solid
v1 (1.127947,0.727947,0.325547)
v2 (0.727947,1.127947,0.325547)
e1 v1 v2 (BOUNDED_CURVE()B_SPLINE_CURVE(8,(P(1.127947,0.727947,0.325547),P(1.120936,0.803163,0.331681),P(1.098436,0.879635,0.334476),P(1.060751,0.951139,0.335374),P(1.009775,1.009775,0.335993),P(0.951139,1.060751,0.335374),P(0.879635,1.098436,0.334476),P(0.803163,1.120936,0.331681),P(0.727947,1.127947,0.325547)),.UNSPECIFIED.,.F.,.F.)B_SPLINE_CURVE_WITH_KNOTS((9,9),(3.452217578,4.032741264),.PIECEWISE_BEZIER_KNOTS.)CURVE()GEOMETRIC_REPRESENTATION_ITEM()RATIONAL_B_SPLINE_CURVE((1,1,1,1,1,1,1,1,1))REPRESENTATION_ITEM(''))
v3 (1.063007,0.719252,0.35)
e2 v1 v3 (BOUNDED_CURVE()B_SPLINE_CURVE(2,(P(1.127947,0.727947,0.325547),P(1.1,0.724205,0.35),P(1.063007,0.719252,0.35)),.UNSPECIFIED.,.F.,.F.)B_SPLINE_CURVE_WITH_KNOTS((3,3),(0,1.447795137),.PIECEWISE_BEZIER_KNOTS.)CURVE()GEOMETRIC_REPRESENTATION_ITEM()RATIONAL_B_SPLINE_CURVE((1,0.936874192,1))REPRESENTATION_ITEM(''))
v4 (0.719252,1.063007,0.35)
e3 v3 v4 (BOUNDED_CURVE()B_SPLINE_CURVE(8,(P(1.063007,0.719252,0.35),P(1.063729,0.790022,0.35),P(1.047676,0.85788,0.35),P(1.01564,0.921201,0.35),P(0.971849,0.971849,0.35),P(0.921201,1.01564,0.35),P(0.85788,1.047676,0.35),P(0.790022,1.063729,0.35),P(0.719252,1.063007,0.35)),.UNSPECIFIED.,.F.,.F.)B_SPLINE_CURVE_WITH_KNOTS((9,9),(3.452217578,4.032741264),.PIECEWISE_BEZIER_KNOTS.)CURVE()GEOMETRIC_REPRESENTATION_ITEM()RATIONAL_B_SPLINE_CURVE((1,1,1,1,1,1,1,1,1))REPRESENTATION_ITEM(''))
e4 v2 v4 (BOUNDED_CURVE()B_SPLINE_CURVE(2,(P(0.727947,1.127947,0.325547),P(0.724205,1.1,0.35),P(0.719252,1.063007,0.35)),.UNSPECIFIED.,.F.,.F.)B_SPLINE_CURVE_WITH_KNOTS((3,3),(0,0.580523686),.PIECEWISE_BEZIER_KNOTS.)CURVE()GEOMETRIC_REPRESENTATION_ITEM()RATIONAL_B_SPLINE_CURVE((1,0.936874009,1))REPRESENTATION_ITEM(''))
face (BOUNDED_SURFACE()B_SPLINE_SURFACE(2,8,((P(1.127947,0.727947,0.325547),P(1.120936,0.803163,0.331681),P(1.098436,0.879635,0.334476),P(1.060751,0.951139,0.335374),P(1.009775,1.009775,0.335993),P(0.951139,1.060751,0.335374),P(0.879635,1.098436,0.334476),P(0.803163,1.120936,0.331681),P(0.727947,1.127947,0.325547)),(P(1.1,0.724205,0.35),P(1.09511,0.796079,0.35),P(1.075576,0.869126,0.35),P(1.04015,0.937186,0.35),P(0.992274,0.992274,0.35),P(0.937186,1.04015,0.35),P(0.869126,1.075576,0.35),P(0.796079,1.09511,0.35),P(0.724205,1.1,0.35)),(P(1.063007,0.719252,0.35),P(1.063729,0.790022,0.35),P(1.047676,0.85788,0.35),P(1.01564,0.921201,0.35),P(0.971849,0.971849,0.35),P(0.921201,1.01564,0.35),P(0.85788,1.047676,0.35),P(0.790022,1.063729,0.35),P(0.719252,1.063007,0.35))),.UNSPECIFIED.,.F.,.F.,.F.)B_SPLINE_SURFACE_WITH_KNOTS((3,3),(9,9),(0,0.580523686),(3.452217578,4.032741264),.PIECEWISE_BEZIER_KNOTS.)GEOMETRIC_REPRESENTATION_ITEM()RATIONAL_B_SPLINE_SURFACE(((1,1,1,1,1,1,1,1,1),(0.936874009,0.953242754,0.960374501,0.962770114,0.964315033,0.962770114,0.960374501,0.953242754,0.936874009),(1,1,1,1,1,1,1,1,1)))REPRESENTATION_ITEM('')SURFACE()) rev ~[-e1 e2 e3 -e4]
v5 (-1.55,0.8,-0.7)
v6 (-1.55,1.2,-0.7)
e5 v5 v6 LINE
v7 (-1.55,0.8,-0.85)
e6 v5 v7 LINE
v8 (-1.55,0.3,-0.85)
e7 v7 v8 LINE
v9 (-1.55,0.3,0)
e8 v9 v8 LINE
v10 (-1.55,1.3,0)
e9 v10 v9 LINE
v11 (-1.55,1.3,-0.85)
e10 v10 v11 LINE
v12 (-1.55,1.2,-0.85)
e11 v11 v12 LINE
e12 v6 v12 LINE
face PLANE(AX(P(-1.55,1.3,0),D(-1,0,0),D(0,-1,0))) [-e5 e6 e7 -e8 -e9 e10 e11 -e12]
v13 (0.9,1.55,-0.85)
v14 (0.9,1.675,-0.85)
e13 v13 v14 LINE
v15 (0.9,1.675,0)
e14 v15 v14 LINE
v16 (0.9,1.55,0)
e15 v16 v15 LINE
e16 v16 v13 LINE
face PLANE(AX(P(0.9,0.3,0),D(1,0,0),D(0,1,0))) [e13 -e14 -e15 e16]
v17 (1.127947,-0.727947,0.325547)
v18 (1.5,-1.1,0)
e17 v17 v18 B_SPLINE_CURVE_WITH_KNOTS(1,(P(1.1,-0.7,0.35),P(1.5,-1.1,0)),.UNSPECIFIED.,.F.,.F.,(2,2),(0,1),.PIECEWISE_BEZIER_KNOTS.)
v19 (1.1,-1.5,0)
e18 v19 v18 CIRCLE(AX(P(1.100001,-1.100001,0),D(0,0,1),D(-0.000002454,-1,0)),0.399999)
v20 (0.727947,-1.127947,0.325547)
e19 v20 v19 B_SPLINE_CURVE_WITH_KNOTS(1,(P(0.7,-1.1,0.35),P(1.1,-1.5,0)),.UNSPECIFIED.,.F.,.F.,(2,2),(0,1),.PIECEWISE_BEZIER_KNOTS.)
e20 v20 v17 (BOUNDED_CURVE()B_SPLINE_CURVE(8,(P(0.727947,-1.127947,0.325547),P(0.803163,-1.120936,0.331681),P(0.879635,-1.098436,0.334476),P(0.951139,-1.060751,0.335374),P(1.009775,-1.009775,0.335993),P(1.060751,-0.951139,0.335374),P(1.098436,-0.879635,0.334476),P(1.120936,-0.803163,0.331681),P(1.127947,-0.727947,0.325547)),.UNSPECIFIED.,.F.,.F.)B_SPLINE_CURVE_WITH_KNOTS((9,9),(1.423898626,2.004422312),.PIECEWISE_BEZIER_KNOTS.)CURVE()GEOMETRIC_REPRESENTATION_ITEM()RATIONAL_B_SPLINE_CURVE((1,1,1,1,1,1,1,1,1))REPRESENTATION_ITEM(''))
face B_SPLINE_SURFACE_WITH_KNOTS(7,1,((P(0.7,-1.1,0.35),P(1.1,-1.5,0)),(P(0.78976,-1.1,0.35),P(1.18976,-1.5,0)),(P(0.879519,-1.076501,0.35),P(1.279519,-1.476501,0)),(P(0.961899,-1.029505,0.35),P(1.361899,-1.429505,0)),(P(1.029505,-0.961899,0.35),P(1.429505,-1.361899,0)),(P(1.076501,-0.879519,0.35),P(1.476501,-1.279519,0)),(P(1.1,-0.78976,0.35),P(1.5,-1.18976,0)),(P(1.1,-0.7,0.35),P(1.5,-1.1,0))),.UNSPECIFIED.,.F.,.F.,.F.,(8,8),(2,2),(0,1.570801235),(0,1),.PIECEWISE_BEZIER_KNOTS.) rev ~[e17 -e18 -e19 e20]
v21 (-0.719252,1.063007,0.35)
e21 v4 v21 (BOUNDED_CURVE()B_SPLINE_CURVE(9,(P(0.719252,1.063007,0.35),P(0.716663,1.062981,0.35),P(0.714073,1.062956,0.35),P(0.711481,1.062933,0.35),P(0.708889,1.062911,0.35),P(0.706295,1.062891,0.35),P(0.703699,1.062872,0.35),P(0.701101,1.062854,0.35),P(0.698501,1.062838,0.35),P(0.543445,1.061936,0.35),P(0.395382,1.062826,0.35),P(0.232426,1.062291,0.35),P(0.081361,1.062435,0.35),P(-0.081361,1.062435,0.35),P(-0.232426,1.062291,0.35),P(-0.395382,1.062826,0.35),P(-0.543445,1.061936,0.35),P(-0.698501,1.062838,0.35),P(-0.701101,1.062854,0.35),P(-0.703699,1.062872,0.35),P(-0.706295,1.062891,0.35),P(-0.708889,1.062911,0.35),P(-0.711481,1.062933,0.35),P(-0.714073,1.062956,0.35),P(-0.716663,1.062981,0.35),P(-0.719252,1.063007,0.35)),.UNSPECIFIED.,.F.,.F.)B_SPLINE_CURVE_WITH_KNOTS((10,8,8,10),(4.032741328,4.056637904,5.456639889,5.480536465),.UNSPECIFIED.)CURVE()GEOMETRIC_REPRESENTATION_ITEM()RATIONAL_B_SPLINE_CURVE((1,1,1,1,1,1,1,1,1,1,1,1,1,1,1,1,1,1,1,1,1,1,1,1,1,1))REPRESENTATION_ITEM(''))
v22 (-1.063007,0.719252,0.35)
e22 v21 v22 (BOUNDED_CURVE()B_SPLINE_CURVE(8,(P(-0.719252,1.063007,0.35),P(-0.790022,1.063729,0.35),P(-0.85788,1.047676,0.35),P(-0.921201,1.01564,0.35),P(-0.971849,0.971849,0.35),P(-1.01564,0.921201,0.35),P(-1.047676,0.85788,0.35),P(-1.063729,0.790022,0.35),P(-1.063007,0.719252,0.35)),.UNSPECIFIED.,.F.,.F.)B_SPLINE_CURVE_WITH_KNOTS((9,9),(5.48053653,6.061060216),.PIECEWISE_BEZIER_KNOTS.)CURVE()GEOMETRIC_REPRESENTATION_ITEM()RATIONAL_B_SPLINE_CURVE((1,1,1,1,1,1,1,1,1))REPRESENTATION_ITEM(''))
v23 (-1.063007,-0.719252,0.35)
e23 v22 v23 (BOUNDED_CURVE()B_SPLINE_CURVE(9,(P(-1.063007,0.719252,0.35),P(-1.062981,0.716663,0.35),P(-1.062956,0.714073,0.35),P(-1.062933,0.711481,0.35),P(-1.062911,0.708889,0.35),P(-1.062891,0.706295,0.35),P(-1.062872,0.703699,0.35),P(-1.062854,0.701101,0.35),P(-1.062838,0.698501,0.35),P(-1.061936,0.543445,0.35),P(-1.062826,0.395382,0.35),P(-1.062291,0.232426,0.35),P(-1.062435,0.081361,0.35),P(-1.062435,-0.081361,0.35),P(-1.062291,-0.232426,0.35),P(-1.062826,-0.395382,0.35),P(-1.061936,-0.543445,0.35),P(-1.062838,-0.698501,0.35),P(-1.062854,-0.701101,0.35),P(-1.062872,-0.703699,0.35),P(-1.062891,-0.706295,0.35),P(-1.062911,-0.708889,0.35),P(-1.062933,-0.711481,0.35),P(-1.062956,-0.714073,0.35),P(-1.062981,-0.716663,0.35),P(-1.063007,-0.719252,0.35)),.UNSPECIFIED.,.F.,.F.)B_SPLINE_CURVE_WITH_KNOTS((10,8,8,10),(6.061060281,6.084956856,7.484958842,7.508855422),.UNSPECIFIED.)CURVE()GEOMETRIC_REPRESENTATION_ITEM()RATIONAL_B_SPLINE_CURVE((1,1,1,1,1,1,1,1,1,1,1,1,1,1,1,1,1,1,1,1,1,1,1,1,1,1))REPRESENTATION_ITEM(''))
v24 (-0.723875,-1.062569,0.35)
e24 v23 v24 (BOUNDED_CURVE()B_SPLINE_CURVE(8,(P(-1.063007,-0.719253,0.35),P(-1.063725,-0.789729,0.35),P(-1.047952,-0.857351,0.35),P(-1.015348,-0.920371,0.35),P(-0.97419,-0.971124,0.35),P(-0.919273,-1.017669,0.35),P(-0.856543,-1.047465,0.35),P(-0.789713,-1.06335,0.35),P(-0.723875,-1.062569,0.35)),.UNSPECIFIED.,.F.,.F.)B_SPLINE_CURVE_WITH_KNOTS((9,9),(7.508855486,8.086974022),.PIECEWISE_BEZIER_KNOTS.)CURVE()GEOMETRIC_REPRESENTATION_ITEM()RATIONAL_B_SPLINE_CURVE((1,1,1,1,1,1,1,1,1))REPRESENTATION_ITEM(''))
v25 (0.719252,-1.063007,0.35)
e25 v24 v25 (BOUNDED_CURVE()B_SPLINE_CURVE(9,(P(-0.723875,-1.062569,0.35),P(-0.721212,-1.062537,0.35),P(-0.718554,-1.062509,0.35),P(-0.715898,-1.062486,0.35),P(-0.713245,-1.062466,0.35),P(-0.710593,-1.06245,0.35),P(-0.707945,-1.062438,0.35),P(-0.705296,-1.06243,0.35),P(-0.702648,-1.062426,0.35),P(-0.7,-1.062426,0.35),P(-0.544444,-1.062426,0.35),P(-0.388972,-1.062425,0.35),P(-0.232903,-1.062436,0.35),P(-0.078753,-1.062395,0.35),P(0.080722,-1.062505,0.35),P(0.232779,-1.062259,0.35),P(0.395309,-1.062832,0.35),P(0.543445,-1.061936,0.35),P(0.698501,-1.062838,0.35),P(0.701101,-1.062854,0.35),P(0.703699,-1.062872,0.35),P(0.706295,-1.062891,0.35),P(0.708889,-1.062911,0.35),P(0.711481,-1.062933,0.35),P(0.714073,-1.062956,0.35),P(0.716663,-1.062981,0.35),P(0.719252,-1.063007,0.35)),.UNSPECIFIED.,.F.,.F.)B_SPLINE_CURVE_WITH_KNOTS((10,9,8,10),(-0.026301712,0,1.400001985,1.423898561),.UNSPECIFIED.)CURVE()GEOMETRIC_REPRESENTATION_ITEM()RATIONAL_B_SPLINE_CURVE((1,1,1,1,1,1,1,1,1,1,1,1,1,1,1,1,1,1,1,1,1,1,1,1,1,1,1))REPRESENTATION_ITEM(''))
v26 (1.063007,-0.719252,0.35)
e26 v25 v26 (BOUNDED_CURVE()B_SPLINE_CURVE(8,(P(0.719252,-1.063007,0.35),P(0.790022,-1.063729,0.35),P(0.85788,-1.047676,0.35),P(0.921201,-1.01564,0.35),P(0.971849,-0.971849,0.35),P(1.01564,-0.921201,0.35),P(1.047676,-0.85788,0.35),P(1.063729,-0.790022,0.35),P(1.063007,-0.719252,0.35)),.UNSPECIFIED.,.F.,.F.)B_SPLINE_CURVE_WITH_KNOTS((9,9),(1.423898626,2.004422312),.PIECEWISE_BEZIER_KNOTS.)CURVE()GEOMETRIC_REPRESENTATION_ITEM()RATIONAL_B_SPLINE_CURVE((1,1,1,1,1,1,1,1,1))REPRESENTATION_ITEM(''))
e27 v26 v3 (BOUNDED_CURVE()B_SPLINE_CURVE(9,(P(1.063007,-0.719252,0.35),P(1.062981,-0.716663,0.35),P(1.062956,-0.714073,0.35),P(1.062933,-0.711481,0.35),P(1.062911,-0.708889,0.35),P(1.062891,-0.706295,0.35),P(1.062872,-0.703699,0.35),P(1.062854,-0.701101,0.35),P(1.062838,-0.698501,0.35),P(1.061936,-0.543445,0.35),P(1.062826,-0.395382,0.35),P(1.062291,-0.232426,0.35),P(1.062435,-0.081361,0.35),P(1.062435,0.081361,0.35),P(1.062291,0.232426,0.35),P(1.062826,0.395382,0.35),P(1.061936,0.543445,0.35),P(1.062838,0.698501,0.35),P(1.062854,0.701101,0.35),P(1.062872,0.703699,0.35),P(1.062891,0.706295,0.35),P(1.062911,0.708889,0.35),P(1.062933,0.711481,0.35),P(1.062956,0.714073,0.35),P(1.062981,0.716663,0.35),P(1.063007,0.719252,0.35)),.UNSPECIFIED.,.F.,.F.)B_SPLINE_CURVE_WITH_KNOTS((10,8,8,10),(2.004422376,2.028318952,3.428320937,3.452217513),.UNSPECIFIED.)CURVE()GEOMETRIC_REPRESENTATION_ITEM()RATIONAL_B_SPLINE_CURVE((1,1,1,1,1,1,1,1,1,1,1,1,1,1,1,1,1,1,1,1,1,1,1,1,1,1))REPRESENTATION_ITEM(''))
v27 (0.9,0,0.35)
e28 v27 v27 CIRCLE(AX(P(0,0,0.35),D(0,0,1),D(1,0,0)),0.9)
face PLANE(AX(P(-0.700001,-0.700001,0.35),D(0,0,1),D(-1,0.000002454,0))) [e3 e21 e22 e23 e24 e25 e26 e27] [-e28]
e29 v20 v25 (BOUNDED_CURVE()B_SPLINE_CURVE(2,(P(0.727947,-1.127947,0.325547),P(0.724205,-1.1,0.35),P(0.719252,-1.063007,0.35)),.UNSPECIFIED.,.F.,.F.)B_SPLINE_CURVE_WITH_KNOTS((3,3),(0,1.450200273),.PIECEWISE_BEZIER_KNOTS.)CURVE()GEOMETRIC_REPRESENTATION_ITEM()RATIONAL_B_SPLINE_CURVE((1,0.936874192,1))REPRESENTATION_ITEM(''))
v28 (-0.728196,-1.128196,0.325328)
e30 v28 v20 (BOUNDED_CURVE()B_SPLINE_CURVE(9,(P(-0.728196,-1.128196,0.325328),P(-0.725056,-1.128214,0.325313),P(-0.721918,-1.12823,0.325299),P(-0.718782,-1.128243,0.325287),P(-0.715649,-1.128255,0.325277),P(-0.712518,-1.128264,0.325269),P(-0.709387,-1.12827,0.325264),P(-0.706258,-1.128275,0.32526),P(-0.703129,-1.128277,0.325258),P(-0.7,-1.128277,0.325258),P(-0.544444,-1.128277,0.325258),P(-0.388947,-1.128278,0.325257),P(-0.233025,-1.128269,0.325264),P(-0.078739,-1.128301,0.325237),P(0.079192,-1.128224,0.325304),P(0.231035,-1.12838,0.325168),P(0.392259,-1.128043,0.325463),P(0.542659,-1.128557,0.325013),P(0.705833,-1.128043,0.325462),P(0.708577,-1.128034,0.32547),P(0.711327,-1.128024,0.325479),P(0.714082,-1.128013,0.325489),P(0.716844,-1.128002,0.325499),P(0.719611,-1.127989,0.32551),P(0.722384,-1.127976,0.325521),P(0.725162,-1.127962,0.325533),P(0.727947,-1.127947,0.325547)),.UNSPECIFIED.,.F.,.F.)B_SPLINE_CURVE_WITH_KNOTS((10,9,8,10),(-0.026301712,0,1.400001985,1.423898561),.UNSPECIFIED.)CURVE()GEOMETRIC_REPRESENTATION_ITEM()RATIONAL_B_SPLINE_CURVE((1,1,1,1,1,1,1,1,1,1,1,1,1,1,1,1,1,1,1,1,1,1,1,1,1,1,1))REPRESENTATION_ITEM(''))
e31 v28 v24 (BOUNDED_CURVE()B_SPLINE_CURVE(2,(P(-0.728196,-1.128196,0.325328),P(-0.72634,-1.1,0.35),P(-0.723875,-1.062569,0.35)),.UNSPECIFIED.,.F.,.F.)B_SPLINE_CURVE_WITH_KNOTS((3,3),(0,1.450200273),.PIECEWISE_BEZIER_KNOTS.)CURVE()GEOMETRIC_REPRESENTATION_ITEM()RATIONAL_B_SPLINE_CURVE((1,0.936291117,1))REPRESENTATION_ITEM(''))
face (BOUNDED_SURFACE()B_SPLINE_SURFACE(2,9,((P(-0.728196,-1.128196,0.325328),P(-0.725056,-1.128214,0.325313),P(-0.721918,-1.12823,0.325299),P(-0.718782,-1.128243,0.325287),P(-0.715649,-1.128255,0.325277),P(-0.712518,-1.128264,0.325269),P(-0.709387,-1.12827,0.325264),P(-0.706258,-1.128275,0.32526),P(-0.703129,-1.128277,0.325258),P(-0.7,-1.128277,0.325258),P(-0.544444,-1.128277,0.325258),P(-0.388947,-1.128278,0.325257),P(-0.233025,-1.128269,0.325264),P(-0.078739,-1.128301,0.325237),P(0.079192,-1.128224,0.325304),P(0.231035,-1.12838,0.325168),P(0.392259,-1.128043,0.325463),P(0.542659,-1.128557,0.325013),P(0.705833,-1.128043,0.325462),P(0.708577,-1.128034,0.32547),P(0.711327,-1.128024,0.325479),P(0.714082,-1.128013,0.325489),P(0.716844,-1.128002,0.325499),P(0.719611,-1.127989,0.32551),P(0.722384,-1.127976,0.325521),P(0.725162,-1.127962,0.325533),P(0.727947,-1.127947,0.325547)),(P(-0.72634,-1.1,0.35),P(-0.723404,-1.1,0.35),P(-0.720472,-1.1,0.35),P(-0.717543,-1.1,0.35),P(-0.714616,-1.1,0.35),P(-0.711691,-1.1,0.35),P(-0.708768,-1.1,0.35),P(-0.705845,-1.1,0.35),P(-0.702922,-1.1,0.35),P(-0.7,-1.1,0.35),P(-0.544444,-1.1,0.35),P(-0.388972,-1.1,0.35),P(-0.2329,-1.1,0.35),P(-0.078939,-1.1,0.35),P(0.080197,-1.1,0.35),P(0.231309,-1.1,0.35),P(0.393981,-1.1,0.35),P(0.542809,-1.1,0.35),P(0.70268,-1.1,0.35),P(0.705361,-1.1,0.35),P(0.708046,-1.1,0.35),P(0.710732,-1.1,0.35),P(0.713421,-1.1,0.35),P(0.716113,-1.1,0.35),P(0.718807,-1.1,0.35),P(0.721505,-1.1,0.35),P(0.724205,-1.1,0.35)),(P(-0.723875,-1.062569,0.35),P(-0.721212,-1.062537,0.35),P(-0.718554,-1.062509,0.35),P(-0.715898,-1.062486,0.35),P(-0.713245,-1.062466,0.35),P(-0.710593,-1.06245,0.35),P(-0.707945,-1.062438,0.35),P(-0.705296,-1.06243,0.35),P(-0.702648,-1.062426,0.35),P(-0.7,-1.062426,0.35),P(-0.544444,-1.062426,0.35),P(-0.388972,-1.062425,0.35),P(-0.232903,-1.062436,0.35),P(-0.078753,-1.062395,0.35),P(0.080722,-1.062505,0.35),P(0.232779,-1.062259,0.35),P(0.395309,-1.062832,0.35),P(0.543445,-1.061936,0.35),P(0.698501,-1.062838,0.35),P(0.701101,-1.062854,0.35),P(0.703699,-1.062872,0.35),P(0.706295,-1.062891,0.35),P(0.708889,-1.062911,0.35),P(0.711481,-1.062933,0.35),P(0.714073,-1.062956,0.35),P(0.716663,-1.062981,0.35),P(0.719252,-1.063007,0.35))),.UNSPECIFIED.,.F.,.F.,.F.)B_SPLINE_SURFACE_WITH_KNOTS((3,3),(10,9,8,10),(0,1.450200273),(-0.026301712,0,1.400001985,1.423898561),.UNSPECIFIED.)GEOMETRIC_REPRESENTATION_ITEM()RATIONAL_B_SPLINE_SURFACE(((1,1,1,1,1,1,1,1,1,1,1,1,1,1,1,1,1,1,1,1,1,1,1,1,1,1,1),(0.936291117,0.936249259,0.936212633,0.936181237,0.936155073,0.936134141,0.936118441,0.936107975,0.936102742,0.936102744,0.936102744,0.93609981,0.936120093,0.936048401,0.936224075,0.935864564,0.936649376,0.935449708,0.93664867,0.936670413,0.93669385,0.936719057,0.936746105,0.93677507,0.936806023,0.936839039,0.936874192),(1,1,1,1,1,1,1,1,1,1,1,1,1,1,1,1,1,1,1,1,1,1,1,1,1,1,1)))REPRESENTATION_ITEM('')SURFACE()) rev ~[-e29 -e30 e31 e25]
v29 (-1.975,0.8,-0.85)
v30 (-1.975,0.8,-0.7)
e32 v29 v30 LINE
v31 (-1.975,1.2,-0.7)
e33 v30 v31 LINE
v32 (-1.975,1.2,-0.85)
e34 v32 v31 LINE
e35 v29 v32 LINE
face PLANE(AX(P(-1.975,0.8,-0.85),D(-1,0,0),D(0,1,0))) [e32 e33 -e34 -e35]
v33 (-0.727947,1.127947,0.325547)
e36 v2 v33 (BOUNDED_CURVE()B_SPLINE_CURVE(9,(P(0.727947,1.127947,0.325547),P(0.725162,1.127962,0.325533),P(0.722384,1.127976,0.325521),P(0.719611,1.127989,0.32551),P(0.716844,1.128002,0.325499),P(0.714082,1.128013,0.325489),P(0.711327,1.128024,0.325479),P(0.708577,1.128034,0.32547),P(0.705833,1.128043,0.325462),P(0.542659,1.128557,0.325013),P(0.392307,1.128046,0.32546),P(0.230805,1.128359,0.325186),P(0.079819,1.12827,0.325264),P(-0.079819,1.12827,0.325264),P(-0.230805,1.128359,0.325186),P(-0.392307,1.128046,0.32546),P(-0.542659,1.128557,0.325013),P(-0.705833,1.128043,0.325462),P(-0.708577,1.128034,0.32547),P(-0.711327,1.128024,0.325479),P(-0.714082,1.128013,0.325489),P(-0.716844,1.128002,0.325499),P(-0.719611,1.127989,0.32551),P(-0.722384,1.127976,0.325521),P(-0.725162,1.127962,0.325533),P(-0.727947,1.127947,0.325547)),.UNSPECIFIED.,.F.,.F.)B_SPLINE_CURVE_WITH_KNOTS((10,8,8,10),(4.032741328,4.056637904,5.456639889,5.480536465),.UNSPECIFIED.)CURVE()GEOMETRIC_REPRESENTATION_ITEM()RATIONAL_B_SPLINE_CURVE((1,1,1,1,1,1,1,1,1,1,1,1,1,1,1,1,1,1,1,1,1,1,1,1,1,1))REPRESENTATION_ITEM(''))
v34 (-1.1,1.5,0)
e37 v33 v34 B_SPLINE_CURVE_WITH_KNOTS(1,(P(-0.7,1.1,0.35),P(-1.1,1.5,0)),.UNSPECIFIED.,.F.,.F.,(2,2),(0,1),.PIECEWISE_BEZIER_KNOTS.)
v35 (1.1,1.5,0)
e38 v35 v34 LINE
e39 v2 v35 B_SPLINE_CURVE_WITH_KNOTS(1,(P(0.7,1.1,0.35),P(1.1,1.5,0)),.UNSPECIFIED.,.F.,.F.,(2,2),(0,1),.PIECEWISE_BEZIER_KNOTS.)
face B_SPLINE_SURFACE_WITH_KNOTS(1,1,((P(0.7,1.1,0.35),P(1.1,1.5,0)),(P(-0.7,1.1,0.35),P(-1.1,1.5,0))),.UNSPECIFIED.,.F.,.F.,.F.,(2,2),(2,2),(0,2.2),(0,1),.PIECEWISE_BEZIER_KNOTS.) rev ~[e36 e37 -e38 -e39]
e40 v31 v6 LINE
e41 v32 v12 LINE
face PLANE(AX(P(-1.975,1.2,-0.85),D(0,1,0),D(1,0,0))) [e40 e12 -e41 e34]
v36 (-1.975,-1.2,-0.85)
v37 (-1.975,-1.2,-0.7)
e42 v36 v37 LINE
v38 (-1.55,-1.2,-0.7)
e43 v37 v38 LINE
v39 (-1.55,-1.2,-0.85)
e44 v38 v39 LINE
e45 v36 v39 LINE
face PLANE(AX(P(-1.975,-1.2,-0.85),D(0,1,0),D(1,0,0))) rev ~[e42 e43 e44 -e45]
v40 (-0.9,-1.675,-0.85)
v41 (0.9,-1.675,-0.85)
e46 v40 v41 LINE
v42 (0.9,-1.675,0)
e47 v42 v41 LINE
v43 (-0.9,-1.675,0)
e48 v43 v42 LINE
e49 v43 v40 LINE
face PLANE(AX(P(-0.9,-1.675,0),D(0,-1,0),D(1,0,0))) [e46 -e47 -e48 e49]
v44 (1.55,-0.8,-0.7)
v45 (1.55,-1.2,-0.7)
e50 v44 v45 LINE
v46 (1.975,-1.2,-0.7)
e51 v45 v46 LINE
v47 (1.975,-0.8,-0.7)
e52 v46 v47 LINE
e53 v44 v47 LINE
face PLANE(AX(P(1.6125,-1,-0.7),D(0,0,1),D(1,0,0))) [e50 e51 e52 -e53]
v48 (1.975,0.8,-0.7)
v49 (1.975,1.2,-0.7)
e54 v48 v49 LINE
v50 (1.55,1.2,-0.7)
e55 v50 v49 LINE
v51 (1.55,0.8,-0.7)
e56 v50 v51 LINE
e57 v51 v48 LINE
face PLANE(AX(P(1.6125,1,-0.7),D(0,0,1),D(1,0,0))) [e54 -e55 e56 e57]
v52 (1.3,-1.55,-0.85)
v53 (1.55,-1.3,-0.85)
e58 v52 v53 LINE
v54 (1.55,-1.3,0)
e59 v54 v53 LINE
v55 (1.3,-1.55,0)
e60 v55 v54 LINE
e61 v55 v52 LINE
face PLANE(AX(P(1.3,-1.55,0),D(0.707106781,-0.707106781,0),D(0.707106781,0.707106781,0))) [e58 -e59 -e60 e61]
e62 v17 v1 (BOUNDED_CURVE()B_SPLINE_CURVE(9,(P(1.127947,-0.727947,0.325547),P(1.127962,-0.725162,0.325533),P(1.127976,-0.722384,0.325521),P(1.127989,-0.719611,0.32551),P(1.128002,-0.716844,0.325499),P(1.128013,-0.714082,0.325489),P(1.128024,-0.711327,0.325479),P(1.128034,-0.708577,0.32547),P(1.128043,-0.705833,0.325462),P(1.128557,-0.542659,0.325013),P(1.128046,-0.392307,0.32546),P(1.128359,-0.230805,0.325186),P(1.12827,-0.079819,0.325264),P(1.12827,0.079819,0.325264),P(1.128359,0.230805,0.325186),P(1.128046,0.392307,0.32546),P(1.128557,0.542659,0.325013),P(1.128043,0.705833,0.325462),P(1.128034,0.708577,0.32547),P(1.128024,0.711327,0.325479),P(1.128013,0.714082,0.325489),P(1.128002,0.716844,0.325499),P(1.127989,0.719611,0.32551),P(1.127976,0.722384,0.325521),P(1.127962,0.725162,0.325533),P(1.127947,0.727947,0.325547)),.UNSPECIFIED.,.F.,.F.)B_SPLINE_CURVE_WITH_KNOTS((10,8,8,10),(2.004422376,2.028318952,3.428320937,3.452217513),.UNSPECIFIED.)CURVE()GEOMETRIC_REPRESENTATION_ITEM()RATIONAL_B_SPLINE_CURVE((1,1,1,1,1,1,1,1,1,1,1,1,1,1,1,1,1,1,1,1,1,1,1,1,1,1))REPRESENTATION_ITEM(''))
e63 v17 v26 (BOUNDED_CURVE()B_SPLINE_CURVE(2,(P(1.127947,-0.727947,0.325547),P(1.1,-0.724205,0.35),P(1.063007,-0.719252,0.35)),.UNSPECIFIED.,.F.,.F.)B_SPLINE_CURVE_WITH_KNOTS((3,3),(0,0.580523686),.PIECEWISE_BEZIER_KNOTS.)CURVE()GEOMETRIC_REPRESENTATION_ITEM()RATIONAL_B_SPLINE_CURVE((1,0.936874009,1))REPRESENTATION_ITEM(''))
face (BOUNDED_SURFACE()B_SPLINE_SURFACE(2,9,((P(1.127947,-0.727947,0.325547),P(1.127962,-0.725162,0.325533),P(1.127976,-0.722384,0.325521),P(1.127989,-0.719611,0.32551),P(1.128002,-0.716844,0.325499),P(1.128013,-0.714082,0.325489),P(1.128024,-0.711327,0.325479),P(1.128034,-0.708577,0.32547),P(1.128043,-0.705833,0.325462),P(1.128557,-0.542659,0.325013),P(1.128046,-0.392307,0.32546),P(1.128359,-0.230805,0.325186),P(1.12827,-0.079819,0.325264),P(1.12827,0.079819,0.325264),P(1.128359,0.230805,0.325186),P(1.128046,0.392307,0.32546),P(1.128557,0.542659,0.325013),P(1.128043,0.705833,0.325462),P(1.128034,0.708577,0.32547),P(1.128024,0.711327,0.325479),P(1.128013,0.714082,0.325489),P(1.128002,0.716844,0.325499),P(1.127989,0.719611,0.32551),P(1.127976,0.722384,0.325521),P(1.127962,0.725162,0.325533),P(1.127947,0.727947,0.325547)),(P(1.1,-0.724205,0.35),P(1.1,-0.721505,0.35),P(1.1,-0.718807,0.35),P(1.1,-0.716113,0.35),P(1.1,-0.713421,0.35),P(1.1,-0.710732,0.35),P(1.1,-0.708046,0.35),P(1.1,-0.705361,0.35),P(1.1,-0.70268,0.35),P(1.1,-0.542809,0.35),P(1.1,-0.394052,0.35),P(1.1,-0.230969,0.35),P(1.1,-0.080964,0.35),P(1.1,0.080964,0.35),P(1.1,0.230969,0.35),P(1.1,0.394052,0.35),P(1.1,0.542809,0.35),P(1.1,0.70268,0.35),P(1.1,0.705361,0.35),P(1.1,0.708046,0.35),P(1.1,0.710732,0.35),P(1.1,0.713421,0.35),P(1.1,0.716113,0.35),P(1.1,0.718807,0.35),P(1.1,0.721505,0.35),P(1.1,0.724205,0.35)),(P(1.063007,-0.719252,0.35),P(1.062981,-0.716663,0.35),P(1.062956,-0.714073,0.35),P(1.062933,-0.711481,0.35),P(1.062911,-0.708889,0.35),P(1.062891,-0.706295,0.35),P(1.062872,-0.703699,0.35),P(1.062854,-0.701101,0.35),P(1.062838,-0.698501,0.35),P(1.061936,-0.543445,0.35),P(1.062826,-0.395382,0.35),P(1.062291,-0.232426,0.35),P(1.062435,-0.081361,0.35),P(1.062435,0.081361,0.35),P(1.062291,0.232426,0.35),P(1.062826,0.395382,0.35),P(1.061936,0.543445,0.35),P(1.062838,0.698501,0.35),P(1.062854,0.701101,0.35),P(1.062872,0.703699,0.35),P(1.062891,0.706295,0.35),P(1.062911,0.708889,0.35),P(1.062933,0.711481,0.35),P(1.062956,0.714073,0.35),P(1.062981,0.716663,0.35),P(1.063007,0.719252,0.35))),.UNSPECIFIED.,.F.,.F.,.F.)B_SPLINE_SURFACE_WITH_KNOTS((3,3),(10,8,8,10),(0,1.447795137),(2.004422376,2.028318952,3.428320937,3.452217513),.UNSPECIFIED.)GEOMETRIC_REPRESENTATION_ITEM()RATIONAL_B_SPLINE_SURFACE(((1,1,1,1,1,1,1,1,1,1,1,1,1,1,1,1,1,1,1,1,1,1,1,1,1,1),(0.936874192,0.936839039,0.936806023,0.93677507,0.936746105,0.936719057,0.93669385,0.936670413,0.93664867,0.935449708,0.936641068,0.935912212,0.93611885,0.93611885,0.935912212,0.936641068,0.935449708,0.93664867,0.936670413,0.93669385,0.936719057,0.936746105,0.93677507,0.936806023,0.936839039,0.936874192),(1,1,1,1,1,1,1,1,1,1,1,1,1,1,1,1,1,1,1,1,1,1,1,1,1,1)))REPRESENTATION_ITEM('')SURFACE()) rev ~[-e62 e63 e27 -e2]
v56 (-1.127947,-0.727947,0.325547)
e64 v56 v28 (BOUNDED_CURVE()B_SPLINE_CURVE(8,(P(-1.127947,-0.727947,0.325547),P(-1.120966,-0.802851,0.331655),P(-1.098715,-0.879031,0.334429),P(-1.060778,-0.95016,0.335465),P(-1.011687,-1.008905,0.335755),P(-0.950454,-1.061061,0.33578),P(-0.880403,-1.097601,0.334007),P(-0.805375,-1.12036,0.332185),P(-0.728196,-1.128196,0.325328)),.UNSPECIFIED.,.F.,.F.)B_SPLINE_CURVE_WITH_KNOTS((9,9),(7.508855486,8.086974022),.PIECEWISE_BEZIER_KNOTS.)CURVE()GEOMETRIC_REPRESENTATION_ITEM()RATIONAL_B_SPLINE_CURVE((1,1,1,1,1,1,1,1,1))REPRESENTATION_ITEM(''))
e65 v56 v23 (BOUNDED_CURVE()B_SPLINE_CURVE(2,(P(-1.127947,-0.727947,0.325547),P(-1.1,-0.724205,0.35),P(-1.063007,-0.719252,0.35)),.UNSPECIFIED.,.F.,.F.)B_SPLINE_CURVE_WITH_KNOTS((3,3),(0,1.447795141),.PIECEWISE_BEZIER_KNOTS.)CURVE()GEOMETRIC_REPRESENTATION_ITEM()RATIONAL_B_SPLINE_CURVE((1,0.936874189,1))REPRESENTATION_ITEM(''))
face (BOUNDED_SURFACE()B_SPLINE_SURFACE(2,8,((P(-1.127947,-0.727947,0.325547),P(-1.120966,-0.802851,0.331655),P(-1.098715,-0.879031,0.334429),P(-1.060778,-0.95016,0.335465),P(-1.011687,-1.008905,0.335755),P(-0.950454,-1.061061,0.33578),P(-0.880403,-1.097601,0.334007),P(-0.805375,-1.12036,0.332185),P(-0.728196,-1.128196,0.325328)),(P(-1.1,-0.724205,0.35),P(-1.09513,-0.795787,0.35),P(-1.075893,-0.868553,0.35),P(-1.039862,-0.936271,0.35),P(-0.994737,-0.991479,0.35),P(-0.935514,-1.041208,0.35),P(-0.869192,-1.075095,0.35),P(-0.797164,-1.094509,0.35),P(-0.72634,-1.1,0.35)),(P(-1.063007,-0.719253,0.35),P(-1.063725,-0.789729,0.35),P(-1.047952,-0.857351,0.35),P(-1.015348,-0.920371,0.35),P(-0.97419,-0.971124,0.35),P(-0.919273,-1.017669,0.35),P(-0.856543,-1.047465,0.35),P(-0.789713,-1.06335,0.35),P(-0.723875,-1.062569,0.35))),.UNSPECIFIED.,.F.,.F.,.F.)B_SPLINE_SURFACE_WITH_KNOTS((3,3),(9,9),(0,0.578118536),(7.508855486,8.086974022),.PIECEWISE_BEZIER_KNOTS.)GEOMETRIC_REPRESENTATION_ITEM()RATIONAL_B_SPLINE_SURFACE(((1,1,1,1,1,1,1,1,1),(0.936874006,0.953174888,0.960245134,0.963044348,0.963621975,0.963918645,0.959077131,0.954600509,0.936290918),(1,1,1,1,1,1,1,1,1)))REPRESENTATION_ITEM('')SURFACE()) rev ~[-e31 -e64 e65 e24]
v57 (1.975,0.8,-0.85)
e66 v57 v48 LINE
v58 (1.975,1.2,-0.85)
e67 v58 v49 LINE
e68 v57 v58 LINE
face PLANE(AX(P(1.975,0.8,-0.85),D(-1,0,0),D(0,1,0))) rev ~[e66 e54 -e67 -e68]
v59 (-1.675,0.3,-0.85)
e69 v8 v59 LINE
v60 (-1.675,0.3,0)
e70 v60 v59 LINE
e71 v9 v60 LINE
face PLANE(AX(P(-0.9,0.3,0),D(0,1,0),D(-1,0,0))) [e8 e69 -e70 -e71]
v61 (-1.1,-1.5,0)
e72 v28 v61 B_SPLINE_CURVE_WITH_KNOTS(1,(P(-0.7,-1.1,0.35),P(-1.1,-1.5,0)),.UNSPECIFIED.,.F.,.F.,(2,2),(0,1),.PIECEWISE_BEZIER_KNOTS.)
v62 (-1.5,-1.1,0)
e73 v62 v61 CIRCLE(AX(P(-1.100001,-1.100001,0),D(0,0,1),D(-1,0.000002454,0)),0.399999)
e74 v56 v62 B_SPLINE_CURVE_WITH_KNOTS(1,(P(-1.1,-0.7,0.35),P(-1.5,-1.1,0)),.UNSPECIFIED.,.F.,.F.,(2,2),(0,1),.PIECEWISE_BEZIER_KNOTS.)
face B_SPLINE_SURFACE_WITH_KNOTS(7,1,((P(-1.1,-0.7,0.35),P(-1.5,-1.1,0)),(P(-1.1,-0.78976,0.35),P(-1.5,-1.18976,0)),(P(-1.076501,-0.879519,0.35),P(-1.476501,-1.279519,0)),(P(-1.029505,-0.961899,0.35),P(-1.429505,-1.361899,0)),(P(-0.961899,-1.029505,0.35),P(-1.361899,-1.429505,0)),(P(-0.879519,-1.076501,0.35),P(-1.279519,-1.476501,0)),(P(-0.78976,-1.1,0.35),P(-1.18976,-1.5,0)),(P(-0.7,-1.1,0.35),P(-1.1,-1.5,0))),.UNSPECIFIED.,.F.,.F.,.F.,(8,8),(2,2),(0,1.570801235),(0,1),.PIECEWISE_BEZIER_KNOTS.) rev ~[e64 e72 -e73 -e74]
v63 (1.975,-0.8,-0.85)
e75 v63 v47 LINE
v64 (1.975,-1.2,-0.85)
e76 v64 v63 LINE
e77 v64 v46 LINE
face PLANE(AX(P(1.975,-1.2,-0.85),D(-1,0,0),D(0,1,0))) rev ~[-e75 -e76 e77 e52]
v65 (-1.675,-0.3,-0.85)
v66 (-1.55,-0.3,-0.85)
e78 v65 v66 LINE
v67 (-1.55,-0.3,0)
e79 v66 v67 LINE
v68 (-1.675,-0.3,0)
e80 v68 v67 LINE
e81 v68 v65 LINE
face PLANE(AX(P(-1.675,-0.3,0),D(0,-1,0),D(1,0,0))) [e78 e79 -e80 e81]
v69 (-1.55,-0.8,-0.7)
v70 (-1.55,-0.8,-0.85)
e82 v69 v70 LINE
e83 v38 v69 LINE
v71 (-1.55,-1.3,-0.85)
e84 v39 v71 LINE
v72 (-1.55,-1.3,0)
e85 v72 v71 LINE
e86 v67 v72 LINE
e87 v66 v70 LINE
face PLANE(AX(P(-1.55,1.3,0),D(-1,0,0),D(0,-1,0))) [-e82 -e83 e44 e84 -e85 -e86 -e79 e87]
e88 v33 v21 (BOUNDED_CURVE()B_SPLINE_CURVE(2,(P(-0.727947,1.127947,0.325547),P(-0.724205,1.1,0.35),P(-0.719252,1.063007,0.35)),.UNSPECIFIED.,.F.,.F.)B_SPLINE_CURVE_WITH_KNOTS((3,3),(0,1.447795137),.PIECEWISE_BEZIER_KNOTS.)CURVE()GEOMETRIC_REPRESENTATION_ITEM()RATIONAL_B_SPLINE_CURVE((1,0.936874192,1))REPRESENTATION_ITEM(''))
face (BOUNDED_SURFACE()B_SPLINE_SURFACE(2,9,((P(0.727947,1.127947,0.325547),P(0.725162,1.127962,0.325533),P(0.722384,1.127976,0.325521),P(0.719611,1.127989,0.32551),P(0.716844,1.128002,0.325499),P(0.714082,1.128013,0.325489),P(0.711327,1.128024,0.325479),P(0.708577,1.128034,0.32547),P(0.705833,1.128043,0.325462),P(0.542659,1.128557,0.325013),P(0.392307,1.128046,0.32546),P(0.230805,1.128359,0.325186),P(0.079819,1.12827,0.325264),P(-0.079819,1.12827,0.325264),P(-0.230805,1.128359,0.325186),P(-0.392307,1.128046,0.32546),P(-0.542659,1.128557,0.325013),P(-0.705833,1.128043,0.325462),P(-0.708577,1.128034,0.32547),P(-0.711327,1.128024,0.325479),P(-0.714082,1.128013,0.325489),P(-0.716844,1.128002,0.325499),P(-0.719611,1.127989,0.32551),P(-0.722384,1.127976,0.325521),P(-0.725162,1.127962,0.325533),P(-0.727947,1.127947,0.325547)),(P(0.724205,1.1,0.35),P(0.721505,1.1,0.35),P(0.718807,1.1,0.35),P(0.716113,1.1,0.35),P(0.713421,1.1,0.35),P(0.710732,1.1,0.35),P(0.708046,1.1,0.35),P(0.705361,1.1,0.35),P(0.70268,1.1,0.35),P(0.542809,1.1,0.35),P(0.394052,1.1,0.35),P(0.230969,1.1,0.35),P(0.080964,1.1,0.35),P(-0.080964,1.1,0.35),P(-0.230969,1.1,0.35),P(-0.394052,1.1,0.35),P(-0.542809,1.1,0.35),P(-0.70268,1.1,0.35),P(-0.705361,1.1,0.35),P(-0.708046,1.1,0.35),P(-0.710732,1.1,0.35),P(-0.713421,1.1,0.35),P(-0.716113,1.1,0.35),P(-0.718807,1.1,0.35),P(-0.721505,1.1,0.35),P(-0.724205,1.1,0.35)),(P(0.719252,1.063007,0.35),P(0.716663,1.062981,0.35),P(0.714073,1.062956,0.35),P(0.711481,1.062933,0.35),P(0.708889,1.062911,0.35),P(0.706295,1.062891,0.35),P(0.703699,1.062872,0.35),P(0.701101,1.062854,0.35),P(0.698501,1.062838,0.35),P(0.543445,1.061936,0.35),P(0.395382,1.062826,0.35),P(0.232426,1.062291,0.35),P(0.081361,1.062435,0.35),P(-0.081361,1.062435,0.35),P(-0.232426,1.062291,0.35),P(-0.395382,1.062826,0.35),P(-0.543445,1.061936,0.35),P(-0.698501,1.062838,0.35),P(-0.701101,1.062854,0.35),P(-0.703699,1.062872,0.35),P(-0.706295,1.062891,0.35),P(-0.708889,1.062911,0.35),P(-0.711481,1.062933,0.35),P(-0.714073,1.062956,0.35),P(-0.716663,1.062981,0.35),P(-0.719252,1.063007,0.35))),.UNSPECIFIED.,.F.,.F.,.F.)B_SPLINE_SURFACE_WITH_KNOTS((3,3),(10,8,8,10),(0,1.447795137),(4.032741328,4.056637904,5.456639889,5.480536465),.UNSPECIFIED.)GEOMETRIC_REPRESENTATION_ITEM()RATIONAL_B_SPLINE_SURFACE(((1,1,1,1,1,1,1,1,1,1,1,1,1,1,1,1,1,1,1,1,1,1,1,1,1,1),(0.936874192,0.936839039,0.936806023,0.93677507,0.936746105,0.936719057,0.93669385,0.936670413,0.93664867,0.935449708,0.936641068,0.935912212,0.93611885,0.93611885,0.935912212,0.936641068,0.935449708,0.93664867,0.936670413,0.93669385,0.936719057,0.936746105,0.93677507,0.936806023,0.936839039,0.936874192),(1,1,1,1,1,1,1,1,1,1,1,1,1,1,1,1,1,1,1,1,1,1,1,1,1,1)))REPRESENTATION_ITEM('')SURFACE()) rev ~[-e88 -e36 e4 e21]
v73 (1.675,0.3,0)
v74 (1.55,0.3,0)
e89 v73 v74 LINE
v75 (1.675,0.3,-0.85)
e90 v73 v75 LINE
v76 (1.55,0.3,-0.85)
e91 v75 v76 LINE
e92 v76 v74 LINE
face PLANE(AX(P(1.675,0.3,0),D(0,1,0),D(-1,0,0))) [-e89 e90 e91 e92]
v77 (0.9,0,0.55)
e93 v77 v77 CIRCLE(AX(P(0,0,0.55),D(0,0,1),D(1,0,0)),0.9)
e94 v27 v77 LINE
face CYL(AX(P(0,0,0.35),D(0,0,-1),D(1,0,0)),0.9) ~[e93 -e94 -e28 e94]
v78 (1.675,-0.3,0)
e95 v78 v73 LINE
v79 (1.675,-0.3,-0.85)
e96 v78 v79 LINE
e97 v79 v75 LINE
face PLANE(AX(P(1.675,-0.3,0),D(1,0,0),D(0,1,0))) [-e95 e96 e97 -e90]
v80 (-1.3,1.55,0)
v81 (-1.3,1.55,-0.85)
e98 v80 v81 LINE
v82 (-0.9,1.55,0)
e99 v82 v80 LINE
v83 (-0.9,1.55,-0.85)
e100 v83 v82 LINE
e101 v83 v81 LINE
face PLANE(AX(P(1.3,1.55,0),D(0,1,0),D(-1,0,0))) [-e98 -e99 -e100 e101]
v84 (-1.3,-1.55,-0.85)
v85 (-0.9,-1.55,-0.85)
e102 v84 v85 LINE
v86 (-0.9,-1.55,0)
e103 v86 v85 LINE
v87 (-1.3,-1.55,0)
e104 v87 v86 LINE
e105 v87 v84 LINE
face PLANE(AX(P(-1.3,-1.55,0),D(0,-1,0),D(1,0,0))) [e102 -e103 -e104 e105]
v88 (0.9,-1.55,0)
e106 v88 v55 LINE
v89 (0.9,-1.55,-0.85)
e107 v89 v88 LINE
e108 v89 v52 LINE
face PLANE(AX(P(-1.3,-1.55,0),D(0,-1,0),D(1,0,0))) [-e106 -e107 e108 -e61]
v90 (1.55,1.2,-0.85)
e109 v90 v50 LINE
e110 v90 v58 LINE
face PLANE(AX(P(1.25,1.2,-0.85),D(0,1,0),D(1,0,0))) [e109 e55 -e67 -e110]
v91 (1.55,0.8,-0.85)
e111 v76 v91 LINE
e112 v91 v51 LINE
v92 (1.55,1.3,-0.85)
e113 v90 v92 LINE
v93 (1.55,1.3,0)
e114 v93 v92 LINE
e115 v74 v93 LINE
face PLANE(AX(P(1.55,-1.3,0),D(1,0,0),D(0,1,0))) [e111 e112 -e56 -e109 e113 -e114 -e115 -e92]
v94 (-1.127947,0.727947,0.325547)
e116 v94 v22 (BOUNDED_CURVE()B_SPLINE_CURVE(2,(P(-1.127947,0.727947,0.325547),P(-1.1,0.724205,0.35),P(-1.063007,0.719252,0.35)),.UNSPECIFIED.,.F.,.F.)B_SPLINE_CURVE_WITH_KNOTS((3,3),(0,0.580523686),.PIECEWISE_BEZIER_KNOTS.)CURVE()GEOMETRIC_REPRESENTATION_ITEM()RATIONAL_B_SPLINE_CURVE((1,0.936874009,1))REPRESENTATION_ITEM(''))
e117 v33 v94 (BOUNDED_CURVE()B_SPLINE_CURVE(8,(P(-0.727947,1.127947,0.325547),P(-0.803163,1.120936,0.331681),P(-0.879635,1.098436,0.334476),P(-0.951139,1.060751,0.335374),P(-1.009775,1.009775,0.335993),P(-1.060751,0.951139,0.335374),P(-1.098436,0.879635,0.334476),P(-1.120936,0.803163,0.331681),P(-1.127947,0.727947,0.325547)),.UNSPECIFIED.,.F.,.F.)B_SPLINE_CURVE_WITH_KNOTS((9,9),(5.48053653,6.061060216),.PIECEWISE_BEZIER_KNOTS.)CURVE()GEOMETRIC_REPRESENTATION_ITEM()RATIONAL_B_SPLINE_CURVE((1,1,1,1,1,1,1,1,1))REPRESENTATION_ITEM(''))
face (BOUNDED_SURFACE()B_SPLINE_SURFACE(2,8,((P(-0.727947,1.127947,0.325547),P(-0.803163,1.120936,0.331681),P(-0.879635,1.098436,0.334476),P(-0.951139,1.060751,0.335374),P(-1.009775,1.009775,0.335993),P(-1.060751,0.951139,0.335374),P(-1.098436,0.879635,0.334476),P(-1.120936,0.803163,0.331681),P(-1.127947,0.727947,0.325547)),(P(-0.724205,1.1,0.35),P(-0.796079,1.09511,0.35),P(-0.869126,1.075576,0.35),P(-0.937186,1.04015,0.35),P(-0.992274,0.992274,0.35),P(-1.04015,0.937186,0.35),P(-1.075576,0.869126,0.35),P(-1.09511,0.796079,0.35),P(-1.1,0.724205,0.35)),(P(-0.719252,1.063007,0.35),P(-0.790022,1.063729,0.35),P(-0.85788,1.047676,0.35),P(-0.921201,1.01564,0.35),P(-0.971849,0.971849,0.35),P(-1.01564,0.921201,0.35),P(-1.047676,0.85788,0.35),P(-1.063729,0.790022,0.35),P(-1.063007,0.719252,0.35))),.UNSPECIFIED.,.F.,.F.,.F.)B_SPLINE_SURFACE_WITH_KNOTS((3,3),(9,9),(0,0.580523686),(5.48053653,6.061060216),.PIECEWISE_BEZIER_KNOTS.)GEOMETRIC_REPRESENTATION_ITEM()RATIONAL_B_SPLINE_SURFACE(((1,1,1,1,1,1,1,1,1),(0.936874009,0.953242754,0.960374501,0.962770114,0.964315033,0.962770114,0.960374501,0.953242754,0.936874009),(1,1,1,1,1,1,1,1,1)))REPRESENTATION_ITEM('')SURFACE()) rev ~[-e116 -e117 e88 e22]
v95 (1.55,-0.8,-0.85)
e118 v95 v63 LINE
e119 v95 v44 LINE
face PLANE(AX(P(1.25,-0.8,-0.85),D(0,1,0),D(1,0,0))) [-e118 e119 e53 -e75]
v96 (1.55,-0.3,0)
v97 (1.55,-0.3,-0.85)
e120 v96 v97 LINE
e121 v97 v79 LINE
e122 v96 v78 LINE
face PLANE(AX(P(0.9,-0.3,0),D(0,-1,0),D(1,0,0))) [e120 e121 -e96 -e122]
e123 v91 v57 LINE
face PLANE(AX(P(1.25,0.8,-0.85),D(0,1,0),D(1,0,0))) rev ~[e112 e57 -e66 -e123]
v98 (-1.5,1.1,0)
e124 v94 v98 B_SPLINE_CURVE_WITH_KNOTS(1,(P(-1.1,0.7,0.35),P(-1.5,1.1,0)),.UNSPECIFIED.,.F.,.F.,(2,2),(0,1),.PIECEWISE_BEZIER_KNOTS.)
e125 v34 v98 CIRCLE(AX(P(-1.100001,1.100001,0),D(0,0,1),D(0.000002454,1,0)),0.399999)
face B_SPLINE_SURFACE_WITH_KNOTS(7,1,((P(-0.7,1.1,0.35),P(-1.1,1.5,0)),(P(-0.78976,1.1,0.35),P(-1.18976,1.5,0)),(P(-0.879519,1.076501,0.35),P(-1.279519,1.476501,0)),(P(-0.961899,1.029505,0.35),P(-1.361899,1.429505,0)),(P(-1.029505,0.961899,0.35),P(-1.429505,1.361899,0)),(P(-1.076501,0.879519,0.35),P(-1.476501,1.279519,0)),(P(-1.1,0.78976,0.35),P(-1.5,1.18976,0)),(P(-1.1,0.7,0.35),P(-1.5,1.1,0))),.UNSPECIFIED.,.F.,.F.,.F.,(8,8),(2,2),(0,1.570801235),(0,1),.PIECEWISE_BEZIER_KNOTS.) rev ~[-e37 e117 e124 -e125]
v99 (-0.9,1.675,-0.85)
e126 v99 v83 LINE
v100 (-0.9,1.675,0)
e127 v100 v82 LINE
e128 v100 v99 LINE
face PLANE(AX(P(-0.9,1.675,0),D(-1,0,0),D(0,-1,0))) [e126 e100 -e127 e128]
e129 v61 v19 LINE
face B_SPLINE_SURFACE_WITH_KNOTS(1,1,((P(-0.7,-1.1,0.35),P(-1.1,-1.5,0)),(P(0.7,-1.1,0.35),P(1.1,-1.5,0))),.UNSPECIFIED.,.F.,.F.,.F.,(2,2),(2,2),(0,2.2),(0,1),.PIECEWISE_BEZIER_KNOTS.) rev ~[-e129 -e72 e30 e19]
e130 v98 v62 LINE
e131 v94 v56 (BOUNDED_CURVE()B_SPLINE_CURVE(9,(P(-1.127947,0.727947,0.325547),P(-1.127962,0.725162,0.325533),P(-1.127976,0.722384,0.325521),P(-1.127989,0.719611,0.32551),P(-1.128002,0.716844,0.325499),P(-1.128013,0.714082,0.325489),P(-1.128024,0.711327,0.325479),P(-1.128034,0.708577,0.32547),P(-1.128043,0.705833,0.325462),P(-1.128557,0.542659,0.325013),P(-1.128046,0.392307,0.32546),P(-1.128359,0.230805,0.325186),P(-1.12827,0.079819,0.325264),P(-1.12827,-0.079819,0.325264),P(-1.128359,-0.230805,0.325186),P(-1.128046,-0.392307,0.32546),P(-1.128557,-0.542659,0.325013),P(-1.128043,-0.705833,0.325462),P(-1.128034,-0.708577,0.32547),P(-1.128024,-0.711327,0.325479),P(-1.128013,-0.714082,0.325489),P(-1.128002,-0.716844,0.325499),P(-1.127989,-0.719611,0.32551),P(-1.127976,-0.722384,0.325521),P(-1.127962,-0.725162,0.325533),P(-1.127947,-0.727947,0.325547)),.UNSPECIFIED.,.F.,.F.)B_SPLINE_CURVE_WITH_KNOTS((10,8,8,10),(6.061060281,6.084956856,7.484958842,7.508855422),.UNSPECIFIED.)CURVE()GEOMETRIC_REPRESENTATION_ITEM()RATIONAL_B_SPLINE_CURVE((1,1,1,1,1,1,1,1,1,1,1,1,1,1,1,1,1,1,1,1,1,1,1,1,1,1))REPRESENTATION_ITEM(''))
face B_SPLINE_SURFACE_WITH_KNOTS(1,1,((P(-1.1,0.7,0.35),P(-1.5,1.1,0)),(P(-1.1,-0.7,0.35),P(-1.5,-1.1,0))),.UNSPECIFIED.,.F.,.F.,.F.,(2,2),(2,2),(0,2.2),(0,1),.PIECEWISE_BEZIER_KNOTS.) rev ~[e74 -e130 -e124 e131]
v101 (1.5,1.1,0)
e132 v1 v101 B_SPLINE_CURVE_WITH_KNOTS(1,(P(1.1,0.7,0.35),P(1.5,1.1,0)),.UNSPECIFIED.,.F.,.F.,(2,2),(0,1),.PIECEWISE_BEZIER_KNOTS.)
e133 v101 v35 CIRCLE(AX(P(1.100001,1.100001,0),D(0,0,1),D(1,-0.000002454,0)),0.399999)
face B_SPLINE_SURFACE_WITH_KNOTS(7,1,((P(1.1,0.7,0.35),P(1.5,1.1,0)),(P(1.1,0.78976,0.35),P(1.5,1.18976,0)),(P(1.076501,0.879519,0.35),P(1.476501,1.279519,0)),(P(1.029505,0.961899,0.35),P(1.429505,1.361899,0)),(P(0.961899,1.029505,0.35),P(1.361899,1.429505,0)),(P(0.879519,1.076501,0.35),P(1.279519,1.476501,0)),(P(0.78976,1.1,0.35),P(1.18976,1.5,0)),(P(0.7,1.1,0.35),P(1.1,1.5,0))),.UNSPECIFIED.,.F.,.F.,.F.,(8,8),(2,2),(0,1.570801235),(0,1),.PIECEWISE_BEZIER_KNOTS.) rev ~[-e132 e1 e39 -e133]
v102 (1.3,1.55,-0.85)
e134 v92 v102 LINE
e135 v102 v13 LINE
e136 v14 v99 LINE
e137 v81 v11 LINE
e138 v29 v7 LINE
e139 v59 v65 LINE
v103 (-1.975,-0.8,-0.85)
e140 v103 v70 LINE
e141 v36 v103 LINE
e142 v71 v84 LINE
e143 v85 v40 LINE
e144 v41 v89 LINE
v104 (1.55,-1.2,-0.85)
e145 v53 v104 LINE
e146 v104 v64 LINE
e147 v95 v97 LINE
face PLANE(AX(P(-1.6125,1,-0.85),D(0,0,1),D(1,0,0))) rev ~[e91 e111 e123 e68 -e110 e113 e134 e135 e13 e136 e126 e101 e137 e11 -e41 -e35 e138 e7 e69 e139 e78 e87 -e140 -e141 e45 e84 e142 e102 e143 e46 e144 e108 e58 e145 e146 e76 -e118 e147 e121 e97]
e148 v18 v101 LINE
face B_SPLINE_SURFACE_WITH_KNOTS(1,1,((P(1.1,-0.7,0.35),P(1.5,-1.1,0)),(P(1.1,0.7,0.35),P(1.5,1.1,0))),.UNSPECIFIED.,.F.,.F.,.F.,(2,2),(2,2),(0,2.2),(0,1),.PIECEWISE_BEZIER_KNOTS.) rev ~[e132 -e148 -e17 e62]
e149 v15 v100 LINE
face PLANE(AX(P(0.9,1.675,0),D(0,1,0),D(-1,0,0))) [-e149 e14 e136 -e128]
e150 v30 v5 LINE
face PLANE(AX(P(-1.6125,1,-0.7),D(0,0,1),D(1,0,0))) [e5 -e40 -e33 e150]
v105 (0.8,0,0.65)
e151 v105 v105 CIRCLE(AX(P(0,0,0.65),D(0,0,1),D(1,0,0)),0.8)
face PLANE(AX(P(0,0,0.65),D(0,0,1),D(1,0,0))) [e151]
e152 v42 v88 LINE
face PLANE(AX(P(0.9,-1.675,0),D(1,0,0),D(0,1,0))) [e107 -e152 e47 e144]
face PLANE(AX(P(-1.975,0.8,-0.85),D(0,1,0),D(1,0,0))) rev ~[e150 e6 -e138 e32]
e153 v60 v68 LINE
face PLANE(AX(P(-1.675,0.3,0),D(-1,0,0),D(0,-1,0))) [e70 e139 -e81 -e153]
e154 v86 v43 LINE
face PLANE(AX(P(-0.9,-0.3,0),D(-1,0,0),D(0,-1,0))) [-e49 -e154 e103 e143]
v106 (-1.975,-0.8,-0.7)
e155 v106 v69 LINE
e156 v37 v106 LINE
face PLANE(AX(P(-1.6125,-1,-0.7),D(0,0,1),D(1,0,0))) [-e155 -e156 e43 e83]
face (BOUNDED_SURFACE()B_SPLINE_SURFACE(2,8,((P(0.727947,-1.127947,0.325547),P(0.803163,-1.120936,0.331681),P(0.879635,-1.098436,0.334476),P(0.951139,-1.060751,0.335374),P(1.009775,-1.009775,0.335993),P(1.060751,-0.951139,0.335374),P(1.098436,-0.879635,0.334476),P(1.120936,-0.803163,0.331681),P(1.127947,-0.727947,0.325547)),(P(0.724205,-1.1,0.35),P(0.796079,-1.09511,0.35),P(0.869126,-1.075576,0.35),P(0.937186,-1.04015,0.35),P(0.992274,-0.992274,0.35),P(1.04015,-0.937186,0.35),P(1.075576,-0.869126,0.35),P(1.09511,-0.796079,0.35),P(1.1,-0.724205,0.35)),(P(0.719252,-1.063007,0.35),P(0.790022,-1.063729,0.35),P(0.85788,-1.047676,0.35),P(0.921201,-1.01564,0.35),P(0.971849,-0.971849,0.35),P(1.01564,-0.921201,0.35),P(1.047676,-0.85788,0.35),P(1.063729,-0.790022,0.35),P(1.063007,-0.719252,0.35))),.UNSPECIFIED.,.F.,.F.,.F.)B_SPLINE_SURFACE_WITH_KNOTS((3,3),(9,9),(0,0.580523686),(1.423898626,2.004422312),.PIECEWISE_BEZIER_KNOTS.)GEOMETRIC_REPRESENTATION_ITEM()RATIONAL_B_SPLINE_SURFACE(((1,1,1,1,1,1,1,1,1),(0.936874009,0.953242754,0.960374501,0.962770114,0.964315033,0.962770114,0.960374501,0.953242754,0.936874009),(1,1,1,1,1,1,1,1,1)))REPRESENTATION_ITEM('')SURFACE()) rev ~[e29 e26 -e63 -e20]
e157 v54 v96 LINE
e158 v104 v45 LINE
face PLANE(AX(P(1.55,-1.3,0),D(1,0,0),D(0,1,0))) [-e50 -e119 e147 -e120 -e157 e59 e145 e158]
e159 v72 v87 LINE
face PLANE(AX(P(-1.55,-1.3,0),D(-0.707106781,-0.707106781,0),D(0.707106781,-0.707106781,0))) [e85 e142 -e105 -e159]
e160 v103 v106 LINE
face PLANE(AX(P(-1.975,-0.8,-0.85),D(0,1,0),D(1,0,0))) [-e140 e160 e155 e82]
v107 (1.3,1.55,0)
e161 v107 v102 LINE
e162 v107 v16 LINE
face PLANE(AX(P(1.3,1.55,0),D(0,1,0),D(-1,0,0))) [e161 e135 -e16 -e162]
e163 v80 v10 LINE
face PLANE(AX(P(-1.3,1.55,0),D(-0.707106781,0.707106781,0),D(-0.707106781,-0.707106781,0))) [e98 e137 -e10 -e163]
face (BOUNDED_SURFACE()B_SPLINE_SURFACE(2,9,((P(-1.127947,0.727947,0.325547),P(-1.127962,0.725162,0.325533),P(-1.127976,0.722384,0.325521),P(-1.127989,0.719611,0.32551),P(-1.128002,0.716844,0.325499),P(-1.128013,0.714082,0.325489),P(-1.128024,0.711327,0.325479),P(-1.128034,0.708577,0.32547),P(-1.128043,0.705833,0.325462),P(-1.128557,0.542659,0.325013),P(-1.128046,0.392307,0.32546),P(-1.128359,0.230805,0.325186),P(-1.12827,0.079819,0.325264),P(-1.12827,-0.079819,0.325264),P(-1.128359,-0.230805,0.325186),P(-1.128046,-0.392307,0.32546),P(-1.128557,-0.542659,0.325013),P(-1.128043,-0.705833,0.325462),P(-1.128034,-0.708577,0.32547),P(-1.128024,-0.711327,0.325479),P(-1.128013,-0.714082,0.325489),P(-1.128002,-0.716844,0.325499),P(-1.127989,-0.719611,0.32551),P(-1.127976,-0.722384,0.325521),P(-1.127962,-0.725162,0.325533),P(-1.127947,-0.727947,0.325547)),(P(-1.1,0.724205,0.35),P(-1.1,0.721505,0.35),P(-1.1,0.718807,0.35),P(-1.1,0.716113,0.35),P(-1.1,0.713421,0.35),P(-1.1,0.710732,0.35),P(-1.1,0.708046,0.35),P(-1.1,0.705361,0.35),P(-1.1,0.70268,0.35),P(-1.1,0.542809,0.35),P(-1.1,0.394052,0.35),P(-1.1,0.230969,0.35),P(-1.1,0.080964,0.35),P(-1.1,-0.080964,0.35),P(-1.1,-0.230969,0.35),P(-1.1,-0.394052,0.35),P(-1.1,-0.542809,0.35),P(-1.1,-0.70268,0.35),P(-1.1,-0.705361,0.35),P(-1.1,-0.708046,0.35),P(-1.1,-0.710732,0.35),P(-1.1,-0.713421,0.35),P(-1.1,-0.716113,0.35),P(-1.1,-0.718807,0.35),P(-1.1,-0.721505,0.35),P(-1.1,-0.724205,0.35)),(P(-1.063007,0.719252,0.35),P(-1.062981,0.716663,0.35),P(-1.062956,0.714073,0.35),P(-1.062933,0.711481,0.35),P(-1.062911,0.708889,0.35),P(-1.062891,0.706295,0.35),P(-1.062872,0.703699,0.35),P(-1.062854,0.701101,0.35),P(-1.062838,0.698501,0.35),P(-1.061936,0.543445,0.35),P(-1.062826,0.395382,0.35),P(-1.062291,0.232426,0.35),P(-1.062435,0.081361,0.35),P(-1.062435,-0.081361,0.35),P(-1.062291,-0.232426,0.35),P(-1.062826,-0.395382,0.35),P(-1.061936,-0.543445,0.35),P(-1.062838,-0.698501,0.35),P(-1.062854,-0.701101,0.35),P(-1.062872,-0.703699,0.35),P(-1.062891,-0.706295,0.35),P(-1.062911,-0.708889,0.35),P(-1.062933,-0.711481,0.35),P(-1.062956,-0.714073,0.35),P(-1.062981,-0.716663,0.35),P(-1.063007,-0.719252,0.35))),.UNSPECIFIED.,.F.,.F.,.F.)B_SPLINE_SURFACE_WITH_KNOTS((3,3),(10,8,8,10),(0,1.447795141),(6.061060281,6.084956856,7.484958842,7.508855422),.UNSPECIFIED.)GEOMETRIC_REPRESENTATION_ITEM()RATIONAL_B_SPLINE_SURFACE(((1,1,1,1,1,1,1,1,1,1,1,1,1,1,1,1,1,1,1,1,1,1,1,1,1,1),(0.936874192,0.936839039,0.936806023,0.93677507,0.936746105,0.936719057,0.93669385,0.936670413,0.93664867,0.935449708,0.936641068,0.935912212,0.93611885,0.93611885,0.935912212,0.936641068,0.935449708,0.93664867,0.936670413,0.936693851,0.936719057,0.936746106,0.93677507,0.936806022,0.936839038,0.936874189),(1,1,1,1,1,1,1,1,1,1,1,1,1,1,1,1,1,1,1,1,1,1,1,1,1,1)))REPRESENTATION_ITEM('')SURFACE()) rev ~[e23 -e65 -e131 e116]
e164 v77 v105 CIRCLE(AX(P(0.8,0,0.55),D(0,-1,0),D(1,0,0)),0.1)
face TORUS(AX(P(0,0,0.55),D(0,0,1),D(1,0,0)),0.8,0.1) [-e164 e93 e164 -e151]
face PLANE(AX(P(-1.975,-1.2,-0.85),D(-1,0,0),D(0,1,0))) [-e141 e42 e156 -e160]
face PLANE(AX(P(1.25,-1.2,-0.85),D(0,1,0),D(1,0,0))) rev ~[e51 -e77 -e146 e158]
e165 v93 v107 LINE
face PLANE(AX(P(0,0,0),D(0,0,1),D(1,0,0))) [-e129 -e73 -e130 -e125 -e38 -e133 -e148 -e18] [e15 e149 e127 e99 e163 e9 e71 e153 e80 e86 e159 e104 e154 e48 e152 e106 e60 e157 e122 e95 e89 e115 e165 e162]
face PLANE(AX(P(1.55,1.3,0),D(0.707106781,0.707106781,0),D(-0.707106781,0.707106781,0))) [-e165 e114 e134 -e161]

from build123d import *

# Parameters (mm, degrees)
PAD_DEPTH    = 0.85
PAD001_DEPTH = 0.85
SKETCH004_R  = 0.9
PAD002_DEPTH = 0.3
FILLET_R     = 0.1
SKETCH005_W  = 0.725
SKETCH005_H  = 0.4
PAD003_DEPTH = 0.15


with BuildPart() as part:
    # Sketch → Pad (new body)
    with BuildSketch(Plane.XY):
        Polygon((-1.3, -1.55), (1.3, -1.55), (1.55, -1.3), (1.55, 1.3), (1.3, 1.55), (-1.3, 1.55), (-1.55, 1.3), (-1.55, -1.3), align=None)
    extrude(amount=-PAD_DEPTH)

    # Sketch001 → Pad001 (join)
    with BuildSketch(Plane.XY):
        Polygon((-0.9, -1.675), (0.9, -1.675), (0.9, -0.3), (1.675, -0.3), (1.675, 0.3), (0.9, 0.3), (0.9, 1.675), (-0.9, 1.675), (-0.9, 0.3), (-1.675, 0.3), (-1.675, -0.3), (-0.9, -0.3), align=None)
    extrude(amount=-PAD001_DEPTH)

    # Sketch003 → AdditiveLoft section 0
    with BuildSketch(Plane.XY.offset(0.35)):
        with BuildLine():
            Line((-1.1, 0.7), (-1.1, -0.7))
            ThreePointArc((-1.1, -0.7), (-0.982843, -0.982843), (-0.7, -1.1))
            Line((-0.7, -1.1), (0.7, -1.1))
            ThreePointArc((0.7, -1.1), (0.982843, -0.982843), (1.1, -0.7))
            Line((1.1, -0.7), (1.1, 0.7))
            ThreePointArc((1.1, 0.7), (0.982843, 0.982843), (0.7, 1.1))
            Line((0.7, 1.1), (-0.7, 1.1))
            ThreePointArc((-0.7, 1.1), (-0.982843, 0.982843), (-1.1, 0.7))
        make_face()
    # Sketch002 → AdditiveLoft section 1
    with BuildSketch(Plane.XY):
        with BuildLine():
            Line((-1.5, 1.1), (-1.5, -1.1))
            ThreePointArc((-1.5, -1.1), (-1.382843, -1.382843), (-1.1, -1.5))
            Line((-1.1, -1.5), (1.1, -1.5))
            ThreePointArc((1.1, -1.5), (1.382843, -1.382843), (1.5, -1.1))
            Line((1.5, -1.1), (1.5, 1.1))
            ThreePointArc((1.5, 1.1), (1.382843, 1.382843), (1.1, 1.5))
            Line((1.1, 1.5), (-1.1, 1.5))
            ThreePointArc((-1.1, 1.5), (-1.382843, 1.382843), (-1.5, 1.1))
        make_face()
    loft()

    # Sketch004 → Pad002 (join)
    with BuildSketch(Plane.XY.offset(0.35)):
        Circle(SKETCH004_R)
    extrude(amount=PAD002_DEPTH)

    # Fillet
    fillet_edges = [part.edges().sort_by_distance(p)[0] for p in [
        (-0.9, 0, 0.65),
        (0, -1.1, 0.35),
    ]]
    fillet(fillet_edges, radius=FILLET_R)

    # Sketch005 → Pad003 (join)
    with BuildSketch(Plane.XY.offset(-0.85)):
        with Locations((-1.6125, 1)):
            Rectangle(SKETCH005_W, SKETCH005_H)
        with Locations((-1.6125, -1)):
            Rectangle(SKETCH005_W, SKETCH005_H)
        with Locations((1.6125, -1)):
            Rectangle(SKETCH005_W, SKETCH005_H)
        with Locations((1.6125, 1)):
            Rectangle(SKETCH005_W, SKETCH005_H)
    extrude(amount=PAD003_DEPTH)


solid = part.part
